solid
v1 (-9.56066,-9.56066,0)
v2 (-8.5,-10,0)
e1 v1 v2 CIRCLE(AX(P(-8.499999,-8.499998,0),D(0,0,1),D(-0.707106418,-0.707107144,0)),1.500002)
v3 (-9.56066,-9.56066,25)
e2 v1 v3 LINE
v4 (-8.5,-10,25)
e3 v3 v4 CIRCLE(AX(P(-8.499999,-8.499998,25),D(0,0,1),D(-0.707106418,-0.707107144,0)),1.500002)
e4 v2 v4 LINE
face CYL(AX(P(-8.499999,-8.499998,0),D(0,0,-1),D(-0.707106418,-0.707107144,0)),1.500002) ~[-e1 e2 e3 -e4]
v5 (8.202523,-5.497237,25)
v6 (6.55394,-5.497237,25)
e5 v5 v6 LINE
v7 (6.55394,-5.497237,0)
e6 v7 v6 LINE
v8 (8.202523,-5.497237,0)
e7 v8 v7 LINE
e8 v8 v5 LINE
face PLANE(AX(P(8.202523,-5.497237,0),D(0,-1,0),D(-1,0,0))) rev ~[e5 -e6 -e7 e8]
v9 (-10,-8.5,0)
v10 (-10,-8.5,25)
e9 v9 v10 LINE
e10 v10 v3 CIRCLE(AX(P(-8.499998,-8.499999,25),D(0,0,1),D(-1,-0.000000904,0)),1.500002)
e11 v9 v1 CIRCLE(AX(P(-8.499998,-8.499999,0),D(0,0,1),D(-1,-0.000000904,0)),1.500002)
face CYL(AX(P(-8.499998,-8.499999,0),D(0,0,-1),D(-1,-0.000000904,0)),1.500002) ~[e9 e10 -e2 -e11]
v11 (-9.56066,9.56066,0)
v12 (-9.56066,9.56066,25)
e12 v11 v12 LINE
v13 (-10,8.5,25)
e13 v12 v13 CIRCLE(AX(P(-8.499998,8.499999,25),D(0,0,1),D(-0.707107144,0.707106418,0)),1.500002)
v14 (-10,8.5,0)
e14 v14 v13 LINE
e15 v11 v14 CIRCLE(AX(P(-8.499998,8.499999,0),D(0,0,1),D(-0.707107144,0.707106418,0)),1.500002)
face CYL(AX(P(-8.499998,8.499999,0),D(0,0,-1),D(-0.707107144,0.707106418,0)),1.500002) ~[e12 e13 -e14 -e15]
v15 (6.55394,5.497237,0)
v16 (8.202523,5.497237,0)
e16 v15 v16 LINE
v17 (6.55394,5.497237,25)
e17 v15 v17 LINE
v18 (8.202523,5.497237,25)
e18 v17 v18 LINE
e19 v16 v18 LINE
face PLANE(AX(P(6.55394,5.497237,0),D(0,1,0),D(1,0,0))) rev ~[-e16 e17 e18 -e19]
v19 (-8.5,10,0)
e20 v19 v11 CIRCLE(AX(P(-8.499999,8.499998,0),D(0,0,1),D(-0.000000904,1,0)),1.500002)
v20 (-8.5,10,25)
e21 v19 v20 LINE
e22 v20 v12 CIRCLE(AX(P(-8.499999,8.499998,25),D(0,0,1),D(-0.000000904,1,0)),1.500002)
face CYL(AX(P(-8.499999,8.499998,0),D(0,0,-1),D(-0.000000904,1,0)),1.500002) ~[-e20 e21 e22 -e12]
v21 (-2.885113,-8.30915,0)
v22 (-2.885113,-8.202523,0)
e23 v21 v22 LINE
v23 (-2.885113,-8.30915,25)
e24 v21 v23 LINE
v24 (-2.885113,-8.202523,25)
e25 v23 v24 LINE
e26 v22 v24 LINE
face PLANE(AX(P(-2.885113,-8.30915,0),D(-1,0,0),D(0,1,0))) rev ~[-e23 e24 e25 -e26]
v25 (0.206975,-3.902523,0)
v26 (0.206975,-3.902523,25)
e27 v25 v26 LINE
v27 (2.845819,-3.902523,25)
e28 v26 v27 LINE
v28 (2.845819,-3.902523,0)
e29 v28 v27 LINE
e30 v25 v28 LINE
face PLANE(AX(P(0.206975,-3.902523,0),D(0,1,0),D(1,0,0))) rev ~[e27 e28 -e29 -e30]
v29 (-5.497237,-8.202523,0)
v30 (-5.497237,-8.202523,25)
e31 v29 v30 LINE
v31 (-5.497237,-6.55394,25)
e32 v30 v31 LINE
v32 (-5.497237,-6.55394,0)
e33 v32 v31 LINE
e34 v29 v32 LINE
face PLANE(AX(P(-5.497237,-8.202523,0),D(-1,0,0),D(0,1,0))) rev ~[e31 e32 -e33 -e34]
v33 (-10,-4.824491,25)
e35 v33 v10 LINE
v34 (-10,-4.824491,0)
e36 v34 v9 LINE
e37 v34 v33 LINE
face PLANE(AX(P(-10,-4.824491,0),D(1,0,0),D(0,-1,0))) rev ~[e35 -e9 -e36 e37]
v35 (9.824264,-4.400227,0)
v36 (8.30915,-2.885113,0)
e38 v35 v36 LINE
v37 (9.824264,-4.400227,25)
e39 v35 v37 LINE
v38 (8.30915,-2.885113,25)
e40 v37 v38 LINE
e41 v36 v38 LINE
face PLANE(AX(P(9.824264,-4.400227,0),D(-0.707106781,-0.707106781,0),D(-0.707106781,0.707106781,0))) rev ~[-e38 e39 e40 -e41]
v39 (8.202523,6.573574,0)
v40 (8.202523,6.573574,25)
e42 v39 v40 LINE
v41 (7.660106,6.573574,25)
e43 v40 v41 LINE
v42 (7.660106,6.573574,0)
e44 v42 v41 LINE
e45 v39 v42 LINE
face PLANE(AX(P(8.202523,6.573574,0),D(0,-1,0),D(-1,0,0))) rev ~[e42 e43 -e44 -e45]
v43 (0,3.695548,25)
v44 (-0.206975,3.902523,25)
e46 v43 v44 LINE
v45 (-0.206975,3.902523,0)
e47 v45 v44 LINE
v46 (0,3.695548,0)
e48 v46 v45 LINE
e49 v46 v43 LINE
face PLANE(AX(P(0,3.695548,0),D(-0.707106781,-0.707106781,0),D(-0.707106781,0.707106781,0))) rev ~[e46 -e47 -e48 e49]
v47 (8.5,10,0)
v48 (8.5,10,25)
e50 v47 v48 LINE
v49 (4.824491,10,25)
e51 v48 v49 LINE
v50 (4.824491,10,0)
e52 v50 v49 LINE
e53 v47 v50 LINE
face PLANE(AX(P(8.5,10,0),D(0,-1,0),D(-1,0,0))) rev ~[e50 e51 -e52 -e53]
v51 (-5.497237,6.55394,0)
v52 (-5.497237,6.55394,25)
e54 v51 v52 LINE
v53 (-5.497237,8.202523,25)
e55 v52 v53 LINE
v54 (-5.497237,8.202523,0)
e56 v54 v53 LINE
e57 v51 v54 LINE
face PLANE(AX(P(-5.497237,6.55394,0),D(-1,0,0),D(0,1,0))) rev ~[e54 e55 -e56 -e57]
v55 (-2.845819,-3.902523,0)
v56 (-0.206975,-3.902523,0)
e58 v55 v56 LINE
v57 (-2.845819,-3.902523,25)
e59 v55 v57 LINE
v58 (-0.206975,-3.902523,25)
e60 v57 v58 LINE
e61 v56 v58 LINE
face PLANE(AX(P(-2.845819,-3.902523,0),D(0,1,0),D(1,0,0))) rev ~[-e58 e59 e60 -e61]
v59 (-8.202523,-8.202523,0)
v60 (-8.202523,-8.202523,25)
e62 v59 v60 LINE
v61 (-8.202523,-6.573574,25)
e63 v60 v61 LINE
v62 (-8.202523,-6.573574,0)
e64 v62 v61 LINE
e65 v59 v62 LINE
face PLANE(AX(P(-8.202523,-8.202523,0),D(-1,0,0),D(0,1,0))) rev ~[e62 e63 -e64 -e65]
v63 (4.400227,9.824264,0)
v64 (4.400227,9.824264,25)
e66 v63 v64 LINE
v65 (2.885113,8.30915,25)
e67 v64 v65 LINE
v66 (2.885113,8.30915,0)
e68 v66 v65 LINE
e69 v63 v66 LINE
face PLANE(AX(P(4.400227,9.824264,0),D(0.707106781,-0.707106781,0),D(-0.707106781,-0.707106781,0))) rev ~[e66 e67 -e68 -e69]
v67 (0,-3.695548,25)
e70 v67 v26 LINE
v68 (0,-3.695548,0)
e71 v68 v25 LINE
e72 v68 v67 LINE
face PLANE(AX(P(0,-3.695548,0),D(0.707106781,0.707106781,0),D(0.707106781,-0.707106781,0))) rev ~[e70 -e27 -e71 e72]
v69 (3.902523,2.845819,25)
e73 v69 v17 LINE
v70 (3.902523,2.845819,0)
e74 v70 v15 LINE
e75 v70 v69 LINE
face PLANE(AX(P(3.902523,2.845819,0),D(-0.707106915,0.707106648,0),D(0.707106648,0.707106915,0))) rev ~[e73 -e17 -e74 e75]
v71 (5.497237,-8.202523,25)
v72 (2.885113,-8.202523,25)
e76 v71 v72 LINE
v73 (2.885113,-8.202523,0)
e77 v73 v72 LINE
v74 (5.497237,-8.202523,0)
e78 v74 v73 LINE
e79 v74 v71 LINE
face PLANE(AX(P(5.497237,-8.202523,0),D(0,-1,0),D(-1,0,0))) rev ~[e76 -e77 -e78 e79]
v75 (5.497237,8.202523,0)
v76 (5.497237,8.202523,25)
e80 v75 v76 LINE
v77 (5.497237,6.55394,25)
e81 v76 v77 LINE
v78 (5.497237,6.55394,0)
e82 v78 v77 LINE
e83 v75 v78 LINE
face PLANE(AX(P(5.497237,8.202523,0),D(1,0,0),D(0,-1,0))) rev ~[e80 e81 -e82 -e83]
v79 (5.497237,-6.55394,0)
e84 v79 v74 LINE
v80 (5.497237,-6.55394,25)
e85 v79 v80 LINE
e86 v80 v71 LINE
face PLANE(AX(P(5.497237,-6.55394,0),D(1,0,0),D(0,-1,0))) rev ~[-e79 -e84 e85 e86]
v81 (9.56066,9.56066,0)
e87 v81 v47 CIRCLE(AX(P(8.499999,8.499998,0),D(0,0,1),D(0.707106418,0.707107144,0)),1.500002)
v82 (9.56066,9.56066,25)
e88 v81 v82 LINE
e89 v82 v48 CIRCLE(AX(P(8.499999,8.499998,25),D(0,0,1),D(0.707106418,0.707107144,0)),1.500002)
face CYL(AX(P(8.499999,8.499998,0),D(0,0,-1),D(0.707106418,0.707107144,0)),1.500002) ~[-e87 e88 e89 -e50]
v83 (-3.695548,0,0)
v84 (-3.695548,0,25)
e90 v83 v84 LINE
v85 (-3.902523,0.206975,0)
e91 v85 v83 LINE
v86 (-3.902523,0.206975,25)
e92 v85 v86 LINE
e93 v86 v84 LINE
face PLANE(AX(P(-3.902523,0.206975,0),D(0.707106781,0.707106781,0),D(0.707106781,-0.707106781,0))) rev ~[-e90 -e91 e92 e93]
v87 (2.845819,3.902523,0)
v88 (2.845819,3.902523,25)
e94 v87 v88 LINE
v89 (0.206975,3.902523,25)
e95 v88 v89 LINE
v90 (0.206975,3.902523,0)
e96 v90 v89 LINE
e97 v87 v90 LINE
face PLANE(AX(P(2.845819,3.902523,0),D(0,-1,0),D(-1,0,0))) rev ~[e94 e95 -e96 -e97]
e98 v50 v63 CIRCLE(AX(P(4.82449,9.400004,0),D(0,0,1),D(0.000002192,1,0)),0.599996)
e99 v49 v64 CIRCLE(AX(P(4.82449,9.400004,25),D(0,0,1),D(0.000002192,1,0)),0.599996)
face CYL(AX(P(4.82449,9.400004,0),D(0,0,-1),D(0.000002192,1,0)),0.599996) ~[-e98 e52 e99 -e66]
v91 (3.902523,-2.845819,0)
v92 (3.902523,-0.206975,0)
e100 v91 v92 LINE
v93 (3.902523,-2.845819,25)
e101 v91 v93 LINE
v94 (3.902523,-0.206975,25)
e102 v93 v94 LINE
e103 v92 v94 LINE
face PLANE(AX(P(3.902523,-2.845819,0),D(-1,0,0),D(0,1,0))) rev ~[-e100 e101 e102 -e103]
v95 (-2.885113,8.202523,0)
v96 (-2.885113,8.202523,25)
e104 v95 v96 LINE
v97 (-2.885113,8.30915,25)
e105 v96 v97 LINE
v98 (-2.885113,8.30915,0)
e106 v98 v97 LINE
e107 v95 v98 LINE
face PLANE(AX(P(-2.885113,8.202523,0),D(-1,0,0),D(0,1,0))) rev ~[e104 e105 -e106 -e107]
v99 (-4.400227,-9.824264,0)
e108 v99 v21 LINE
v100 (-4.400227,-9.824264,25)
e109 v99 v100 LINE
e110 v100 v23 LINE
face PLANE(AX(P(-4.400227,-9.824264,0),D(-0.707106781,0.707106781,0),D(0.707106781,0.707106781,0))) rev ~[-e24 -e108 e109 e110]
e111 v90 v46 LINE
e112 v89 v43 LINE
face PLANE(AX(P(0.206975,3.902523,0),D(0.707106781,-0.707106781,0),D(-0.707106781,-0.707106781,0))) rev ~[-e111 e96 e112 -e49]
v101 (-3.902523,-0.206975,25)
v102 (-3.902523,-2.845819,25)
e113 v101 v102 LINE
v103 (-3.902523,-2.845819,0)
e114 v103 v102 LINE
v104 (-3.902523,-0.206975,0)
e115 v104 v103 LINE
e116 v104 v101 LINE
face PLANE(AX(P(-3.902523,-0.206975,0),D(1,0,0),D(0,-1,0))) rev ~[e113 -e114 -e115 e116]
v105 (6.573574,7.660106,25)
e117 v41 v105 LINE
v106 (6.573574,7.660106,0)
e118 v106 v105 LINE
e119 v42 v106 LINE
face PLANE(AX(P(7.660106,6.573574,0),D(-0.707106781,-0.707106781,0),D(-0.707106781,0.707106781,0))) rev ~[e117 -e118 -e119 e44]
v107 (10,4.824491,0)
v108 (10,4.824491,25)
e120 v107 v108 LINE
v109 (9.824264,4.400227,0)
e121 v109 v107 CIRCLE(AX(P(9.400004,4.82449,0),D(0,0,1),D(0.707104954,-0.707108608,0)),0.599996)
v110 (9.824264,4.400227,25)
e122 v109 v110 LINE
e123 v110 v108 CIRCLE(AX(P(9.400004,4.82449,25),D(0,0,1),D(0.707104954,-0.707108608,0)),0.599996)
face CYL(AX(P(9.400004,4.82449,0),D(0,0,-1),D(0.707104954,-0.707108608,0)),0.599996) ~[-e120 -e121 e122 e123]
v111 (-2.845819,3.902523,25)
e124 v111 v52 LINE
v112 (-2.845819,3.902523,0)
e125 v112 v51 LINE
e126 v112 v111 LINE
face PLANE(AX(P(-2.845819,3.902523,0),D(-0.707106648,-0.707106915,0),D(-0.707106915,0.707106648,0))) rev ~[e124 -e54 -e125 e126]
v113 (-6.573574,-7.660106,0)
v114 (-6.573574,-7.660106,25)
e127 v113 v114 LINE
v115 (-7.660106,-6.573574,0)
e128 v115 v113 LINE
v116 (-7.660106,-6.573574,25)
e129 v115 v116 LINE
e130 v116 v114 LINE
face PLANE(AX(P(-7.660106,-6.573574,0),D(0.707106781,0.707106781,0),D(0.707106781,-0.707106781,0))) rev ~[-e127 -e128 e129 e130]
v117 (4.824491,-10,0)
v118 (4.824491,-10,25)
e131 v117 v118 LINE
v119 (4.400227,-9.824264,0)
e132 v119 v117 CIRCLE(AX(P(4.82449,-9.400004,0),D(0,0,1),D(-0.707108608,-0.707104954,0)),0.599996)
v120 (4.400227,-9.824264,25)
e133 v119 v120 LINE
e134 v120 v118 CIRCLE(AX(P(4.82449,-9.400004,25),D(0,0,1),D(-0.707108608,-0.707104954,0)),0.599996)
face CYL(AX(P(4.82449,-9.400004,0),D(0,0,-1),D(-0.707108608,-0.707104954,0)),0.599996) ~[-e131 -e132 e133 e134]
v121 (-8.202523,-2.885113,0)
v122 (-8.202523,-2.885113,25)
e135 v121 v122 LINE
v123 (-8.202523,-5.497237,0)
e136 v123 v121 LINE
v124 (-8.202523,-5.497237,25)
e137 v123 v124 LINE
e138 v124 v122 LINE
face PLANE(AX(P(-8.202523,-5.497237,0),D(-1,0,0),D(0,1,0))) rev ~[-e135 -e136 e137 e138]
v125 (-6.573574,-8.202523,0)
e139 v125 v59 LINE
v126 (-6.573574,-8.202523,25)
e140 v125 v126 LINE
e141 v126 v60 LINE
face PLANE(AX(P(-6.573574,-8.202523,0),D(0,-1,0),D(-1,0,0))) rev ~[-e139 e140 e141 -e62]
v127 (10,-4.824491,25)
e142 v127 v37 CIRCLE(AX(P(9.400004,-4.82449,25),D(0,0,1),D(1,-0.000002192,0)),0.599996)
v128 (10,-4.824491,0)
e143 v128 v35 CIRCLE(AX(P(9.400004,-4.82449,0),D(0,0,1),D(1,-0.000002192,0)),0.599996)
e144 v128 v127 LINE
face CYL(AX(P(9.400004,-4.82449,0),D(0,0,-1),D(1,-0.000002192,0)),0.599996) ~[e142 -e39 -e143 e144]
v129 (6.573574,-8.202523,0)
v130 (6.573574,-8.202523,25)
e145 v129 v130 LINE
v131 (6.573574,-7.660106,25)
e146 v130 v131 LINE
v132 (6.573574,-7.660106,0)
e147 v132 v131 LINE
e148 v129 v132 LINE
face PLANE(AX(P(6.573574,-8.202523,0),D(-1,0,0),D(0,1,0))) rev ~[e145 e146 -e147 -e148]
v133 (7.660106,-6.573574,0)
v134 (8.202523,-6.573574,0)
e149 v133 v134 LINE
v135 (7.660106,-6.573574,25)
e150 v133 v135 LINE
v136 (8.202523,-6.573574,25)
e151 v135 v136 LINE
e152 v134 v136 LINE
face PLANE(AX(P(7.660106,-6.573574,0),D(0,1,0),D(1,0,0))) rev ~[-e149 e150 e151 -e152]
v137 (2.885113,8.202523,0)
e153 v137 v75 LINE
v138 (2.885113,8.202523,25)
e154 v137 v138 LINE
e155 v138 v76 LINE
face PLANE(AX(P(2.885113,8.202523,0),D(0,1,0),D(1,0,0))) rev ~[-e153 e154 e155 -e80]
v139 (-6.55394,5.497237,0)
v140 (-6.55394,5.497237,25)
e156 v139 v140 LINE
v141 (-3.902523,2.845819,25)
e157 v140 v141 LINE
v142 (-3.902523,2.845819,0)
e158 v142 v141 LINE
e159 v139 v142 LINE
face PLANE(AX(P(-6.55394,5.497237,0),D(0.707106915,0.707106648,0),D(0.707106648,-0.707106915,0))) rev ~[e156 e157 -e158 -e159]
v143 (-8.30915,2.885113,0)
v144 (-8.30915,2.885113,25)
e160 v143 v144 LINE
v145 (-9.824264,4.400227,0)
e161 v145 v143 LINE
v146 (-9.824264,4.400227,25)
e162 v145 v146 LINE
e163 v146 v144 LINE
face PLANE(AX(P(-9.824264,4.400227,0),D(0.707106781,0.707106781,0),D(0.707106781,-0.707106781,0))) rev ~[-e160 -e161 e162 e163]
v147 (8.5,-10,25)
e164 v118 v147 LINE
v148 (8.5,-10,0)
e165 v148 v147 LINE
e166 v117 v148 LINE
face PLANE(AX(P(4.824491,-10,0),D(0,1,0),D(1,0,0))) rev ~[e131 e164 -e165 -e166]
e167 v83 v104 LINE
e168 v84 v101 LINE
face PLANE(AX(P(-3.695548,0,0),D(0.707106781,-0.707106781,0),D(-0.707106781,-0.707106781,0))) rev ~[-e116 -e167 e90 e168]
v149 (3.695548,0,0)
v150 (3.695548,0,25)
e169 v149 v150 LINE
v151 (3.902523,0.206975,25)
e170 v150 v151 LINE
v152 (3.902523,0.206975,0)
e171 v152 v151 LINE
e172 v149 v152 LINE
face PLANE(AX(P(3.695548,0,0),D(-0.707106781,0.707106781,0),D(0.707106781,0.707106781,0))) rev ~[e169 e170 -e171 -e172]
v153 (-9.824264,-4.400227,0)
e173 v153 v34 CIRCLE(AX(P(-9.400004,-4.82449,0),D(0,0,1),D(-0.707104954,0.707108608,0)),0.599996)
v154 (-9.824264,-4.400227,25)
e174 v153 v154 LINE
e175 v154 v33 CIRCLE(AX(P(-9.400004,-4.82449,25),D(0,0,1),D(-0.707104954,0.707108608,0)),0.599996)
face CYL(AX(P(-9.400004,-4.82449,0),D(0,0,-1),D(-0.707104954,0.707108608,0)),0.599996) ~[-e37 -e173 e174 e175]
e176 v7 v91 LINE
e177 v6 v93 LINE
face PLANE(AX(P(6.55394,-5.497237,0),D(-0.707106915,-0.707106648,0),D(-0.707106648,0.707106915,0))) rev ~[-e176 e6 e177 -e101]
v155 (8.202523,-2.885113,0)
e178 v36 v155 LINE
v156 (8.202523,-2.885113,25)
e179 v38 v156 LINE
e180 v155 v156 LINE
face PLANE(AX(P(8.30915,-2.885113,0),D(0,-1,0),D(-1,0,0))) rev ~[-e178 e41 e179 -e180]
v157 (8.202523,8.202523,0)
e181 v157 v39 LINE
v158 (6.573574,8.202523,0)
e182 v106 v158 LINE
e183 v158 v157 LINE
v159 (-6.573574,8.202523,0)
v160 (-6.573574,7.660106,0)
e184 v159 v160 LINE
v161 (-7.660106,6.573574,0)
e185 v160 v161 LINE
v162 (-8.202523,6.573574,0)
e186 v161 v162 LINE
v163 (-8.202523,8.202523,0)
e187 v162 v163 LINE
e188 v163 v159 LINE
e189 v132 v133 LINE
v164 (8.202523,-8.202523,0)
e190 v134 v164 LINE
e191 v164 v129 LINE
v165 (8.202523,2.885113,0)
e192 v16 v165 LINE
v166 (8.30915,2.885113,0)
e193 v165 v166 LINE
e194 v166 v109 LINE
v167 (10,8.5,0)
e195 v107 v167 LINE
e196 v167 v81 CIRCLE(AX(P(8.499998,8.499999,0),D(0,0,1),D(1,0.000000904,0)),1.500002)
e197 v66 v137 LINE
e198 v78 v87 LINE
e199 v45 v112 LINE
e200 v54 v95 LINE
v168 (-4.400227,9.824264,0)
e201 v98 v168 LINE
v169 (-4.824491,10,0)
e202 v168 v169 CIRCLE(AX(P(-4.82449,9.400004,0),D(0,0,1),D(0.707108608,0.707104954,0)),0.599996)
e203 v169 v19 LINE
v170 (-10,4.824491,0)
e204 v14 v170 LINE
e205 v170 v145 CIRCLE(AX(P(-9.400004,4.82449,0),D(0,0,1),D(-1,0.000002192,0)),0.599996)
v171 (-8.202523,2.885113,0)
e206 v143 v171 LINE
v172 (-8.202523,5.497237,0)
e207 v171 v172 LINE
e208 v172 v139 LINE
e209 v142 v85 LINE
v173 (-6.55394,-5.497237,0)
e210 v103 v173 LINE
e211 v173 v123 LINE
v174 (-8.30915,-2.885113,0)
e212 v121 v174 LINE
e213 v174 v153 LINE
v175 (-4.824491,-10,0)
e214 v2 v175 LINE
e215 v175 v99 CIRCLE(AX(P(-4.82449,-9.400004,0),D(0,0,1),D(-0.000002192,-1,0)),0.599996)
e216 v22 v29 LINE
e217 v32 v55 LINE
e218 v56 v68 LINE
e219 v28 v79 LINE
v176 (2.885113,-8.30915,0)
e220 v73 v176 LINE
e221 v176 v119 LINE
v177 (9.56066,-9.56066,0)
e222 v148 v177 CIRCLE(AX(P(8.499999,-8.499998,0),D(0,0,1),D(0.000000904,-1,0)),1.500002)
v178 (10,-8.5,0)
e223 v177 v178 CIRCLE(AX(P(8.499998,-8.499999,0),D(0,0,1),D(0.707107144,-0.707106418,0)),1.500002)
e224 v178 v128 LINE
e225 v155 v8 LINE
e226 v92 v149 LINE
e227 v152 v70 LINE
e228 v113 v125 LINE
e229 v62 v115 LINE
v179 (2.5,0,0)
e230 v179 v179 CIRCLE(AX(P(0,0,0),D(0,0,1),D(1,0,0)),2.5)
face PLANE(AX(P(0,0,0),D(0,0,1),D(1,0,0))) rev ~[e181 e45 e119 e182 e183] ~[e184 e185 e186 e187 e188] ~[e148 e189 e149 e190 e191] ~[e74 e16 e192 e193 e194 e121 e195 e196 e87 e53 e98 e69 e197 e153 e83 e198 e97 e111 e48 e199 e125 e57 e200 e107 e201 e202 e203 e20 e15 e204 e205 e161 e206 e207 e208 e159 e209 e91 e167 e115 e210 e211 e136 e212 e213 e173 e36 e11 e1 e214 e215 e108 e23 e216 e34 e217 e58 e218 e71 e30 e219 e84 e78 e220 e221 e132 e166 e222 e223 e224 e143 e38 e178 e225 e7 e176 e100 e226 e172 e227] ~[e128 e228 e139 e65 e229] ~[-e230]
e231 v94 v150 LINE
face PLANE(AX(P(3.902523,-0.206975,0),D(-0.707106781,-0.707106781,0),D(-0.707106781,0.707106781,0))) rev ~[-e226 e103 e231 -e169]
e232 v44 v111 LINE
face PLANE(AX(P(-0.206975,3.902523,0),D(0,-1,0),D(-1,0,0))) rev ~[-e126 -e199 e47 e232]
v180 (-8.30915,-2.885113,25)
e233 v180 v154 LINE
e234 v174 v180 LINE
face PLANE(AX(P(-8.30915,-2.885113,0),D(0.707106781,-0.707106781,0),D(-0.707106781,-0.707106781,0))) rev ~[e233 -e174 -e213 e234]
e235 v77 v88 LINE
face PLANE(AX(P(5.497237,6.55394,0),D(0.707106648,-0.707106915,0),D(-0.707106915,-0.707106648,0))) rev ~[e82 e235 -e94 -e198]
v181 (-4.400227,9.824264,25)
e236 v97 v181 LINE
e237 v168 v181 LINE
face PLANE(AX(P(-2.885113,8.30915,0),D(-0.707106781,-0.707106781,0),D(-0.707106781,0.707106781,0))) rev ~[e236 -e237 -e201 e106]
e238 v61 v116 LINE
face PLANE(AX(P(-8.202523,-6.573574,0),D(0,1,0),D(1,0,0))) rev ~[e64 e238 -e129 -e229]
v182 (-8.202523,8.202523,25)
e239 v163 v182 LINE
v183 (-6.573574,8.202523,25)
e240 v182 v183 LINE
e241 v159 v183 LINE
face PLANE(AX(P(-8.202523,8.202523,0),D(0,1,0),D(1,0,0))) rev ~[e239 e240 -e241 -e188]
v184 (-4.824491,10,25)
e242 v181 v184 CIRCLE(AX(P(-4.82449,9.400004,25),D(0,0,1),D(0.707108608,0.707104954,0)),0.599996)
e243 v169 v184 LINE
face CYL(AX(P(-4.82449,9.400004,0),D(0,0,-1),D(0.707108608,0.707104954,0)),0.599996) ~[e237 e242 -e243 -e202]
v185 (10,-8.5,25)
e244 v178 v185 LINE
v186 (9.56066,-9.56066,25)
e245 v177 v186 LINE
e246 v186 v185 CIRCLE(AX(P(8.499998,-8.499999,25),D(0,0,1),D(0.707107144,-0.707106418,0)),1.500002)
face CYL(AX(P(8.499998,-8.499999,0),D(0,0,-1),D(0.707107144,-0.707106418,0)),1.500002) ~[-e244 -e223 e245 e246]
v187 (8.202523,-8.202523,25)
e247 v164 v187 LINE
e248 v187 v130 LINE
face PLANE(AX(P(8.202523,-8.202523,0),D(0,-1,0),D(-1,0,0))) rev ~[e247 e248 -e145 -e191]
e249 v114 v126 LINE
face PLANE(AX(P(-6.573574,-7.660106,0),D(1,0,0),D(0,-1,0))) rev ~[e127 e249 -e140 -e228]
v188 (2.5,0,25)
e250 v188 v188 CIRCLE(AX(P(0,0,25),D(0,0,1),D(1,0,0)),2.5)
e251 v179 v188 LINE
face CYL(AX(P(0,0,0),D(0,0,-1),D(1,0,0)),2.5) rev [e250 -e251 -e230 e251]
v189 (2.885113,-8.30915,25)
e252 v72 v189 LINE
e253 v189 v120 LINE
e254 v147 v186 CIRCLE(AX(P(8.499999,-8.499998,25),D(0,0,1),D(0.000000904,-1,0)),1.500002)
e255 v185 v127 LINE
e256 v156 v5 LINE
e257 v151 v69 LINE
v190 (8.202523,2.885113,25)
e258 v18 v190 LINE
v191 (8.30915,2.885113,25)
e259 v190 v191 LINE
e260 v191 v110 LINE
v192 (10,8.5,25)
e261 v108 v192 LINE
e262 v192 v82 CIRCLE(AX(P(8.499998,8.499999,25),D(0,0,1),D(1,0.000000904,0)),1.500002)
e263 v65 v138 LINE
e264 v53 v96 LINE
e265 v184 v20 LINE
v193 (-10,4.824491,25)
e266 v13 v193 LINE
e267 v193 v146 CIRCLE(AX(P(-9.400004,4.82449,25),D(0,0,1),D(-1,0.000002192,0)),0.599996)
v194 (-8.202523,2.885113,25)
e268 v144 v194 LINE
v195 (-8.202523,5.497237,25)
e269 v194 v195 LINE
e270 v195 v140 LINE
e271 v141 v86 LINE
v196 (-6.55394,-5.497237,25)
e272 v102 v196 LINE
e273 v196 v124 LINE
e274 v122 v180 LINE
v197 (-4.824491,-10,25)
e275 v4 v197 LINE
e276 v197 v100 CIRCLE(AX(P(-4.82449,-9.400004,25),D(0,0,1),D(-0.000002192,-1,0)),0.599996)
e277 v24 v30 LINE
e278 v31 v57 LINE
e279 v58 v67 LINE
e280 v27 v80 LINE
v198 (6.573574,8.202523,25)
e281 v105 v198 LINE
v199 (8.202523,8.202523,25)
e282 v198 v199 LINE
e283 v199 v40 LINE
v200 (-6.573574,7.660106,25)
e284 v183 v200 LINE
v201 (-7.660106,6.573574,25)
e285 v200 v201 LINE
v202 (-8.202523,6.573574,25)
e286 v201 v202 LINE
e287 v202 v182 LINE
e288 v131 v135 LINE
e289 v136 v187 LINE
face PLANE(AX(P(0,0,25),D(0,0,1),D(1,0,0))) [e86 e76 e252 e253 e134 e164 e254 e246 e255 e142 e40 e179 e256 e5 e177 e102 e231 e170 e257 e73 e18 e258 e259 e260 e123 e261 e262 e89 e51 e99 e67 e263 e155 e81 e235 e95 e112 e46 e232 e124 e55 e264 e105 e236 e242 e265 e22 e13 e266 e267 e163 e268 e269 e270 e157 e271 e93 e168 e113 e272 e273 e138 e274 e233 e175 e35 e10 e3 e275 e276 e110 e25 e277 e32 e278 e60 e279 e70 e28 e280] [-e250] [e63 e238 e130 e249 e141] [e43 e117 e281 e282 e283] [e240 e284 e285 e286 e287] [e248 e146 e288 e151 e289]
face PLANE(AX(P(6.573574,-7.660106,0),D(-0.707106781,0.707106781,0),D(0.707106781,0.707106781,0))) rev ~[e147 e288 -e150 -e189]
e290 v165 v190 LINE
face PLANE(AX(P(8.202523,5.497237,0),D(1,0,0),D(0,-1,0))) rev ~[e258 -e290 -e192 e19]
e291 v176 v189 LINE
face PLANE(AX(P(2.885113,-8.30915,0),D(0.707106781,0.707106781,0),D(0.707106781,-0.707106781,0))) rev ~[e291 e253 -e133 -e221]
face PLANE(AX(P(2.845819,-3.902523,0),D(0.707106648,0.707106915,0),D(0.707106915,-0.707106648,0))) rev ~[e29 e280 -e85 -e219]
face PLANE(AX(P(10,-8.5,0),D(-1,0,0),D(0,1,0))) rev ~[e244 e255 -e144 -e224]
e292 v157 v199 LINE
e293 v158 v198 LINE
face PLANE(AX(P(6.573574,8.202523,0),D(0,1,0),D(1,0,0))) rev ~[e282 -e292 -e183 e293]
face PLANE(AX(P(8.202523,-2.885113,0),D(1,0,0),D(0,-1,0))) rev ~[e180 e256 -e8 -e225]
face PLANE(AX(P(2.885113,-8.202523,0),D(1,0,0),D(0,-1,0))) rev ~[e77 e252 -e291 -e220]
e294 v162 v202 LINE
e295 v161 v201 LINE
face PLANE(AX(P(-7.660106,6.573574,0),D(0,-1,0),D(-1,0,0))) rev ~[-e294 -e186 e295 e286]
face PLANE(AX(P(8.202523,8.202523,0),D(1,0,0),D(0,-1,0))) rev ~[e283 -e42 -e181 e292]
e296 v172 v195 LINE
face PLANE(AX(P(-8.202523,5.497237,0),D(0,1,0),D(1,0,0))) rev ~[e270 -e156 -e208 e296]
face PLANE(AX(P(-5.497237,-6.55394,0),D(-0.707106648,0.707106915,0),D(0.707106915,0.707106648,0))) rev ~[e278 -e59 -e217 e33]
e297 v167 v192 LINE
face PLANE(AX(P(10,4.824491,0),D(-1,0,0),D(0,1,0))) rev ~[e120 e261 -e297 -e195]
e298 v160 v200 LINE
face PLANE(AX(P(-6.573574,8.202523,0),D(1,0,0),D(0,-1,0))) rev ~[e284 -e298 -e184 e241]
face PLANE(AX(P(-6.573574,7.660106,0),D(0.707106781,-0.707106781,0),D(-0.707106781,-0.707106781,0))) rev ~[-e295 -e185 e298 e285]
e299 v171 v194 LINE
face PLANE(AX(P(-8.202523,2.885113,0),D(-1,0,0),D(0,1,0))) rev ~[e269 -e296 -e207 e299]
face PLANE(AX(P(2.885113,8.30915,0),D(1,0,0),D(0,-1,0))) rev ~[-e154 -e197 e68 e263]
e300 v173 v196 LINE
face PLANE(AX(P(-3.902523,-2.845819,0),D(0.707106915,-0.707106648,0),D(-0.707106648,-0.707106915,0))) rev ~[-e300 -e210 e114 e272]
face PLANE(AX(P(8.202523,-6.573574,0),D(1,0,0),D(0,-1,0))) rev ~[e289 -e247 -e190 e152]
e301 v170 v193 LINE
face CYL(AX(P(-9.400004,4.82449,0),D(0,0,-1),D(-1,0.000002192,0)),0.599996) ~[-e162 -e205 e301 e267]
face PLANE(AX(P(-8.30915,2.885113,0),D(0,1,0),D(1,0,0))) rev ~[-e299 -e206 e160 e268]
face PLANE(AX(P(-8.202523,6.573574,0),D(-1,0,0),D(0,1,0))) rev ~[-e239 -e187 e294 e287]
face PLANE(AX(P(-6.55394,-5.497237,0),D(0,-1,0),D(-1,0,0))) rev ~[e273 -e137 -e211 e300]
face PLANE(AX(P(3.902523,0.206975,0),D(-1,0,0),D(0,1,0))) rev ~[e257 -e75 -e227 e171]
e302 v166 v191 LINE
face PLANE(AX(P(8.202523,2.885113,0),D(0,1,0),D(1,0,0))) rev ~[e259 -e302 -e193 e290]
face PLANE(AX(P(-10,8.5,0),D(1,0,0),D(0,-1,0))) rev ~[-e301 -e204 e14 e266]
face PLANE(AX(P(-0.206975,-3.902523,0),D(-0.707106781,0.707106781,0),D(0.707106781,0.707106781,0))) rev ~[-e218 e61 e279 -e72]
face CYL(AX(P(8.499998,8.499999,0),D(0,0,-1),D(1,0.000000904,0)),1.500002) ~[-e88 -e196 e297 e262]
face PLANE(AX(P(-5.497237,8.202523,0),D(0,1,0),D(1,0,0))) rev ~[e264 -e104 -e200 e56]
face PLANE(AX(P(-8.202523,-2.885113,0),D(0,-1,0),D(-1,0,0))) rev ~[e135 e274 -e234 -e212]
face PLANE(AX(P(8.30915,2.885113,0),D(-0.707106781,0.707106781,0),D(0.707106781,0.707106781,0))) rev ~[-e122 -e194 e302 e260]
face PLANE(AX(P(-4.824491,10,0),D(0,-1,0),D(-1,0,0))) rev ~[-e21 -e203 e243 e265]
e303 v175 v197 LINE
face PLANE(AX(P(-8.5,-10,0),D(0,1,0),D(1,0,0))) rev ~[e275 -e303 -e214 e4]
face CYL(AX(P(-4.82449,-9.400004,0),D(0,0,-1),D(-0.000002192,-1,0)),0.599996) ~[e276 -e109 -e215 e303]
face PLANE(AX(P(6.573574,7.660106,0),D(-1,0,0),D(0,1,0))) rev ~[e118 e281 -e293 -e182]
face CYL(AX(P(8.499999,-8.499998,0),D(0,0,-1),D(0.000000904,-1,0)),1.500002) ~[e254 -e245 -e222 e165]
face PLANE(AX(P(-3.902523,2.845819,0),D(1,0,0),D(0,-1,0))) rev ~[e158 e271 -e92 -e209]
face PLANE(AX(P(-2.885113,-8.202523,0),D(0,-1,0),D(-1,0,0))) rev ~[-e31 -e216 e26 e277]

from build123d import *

# Parameters (mm, degrees)
F0_R     = 2.5
F1_DEPTH = 25


with BuildPart() as f1:
    # F0 (on Top) → F1 (new body)
    with BuildSketch(Plane.XY):
        with BuildLine():
            Line((-0.206975, 3.902523), (-2.845819, 3.902523))
            Line((-2.845819, 3.902523), (-5.497237, 6.55394))
            Line((-5.497237, 6.55394), (-5.497237, 8.202523))
            Line((-5.497237, 8.202523), (-2.885113, 8.202523))
            Line((-2.885113, 8.202523), (-2.885113, 8.30915))
            Line((-2.885113, 8.30915), (-4.400227, 9.824264))
            ThreePointArc((-4.400227, 9.824264), (-4.594881, 9.954328), (-4.824491, 10))
            Line((-4.824491, 10), (-8.5, 10))
            ThreePointArc((-8.5, 10), (-9.074025, 9.885819), (-9.56066, 9.56066))
            ThreePointArc((-9.56066, 9.56066), (-9.885819, 9.074025), (-10, 8.5))
            Line((-10, 8.5), (-10, 4.824491))
            ThreePointArc((-10, 4.824491), (-9.954328, 4.594881), (-9.824264, 4.400227))
            Line((-9.824264, 4.400227), (-8.30915, 2.885113))
            Line((-8.30915, 2.885113), (-8.202523, 2.885113))
            Line((-8.202523, 2.885113), (-8.202523, 5.497237))
            Line((-8.202523, 5.497237), (-6.55394, 5.497237))
            Line((-6.55394, 5.497237), (-3.902523, 2.845819))
            Line((-3.902523, 2.845819), (-3.902523, 0.206975))
            Line((-3.902523, 0.206975), (-3.695548, 0))
            Line((-3.695548, 0), (-3.902523, -0.206975))
            Line((-3.902523, -0.206975), (-3.902523, -2.845819))
            Line((-3.902523, -2.845819), (-6.55394, -5.497237))
            Line((-6.55394, -5.497237), (-8.202523, -5.497237))
            Line((-8.202523, -5.497237), (-8.202523, -2.885113))
            Line((-8.202523, -2.885113), (-8.30915, -2.885113))
            Line((-8.30915, -2.885113), (-9.824264, -4.400227))
            ThreePointArc((-9.824264, -4.400227), (-9.954328, -4.594881), (-10, -4.824491))
            Line((-10, -4.824491), (-10, -8.5))
            ThreePointArc((-10, -8.5), (-9.885819, -9.074025), (-9.56066, -9.56066))
            ThreePointArc((-9.56066, -9.56066), (-9.074025, -9.885819), (-8.5, -10))
            Line((-8.5, -10), (-4.824491, -10))
            ThreePointArc((-4.824491, -10), (-4.594881, -9.954328), (-4.400227, -9.824264))
            Line((-4.400227, -9.824264), (-2.885113, -8.30915))
            Line((-2.885113, -8.30915), (-2.885113, -8.202523))
            Line((-2.885113, -8.202523), (-5.497237, -8.202523))
            Line((-5.497237, -8.202523), (-5.497237, -6.55394))
            Line((-5.497237, -6.55394), (-2.845819, -3.902523))
            Line((-2.845819, -3.902523), (-0.206975, -3.902523))
            Line((-0.206975, -3.902523), (0, -3.695548))
            Line((0, -3.695548), (0.206975, -3.902523))
            Line((0.206975, -3.902523), (2.845819, -3.902523))
            Line((2.845819, -3.902523), (5.497237, -6.55394))
            Line((5.497237, -6.55394), (5.497237, -8.202523))
            Line((5.497237, -8.202523), (2.885113, -8.202523))
            Line((2.885113, -8.202523), (2.885113, -8.30915))
            Line((2.885113, -8.30915), (4.400227, -9.824264))
            ThreePointArc((4.400227, -9.824264), (4.594881, -9.954328), (4.824491, -10))
            Line((4.824491, -10), (8.5, -10))
            ThreePointArc((8.5, -10), (9.074025, -9.885819), (9.56066, -9.56066))
            ThreePointArc((9.56066, -9.56066), (9.885819, -9.074025), (10, -8.5))
            Line((10, -8.5), (10, -4.824491))
            ThreePointArc((10, -4.824491), (9.954328, -4.594881), (9.824264, -4.400227))
            Line((9.824264, -4.400227), (8.30915, -2.885113))
            Line((8.30915, -2.885113), (8.202523, -2.885113))
            Line((8.202523, -2.885113), (8.202523, -5.497237))
            Line((8.202523, -5.497237), (6.55394, -5.497237))
            Line((6.55394, -5.497237), (3.902523, -2.845819))
            Line((3.902523, -2.845819), (3.902523, -0.206975))
            Line((3.902523, -0.206975), (3.695548, 0))
            Line((3.695548, 0), (3.902523, 0.206975))
            Line((3.902523, 0.206975), (3.902523, 2.845819))
            Line((3.902523, 2.845819), (6.55394, 5.497237))
            Line((6.55394, 5.497237), (8.202523, 5.497237))
            Line((8.202523, 5.497237), (8.202523, 2.885113))
            Line((8.202523, 2.885113), (8.30915, 2.885113))
            Line((8.30915, 2.885113), (9.824264, 4.400227))
            ThreePointArc((9.824264, 4.400227), (9.954328, 4.594881), (10, 4.824491))
            Line((10, 4.824491), (10, 8.5))
            ThreePointArc((10, 8.5), (9.885819, 9.074025), (9.56066, 9.56066))
            ThreePointArc((9.56066, 9.56066), (9.074025, 9.885819), (8.5, 10))
            Line((8.5, 10), (4.824491, 10))
            ThreePointArc((4.824491, 10), (4.594881, 9.954328), (4.400227, 9.824264))
            Line((4.400227, 9.824264), (2.885113, 8.30915))
            Line((2.885113, 8.30915), (2.885113, 8.202523))
            Line((2.885113, 8.202523), (5.497237, 8.202523))
            Line((5.497237, 8.202523), (5.497237, 6.55394))
            Line((5.497237, 6.55394), (2.845819, 3.902523))
            Line((2.845819, 3.902523), (0.206975, 3.902523))
            Line((0.206975, 3.902523), (0, 3.695548))
            Line((0, 3.695548), (-0.206975, 3.902523))
        make_face()
        Polygon((-7.11684, -7.11684), (-6.573574, -7.660106), (-6.573574, -8.202523), (-8.202523, -8.202523), (-8.202523, -6.573574), (-7.660106, -6.573574), align=None, mode=Mode.SUBTRACT)
        Polygon((7.11684, -7.11684), (7.660106, -6.573574), (8.202523, -6.573574), (8.202523, -8.202523), (6.573574, -8.202523), (6.573574, -7.660106), align=None, mode=Mode.SUBTRACT)
        Polygon((-6.573574, 8.202523), (-6.573574, 7.660106), (-7.11684, 7.11684), (-7.660106, 6.573574), (-8.202523, 6.573574), (-8.202523, 8.202523), align=None, mode=Mode.SUBTRACT)
        Circle(F0_R, mode=Mode.SUBTRACT)
        Polygon((7.11684, 7.11684), (6.573574, 7.660106), (6.573574, 8.202523), (8.202523, 8.202523), (8.202523, 6.573574), (7.660106, 6.573574), align=None, mode=Mode.SUBTRACT)
    extrude(amount=F1_DEPTH)


solid = f1.part
